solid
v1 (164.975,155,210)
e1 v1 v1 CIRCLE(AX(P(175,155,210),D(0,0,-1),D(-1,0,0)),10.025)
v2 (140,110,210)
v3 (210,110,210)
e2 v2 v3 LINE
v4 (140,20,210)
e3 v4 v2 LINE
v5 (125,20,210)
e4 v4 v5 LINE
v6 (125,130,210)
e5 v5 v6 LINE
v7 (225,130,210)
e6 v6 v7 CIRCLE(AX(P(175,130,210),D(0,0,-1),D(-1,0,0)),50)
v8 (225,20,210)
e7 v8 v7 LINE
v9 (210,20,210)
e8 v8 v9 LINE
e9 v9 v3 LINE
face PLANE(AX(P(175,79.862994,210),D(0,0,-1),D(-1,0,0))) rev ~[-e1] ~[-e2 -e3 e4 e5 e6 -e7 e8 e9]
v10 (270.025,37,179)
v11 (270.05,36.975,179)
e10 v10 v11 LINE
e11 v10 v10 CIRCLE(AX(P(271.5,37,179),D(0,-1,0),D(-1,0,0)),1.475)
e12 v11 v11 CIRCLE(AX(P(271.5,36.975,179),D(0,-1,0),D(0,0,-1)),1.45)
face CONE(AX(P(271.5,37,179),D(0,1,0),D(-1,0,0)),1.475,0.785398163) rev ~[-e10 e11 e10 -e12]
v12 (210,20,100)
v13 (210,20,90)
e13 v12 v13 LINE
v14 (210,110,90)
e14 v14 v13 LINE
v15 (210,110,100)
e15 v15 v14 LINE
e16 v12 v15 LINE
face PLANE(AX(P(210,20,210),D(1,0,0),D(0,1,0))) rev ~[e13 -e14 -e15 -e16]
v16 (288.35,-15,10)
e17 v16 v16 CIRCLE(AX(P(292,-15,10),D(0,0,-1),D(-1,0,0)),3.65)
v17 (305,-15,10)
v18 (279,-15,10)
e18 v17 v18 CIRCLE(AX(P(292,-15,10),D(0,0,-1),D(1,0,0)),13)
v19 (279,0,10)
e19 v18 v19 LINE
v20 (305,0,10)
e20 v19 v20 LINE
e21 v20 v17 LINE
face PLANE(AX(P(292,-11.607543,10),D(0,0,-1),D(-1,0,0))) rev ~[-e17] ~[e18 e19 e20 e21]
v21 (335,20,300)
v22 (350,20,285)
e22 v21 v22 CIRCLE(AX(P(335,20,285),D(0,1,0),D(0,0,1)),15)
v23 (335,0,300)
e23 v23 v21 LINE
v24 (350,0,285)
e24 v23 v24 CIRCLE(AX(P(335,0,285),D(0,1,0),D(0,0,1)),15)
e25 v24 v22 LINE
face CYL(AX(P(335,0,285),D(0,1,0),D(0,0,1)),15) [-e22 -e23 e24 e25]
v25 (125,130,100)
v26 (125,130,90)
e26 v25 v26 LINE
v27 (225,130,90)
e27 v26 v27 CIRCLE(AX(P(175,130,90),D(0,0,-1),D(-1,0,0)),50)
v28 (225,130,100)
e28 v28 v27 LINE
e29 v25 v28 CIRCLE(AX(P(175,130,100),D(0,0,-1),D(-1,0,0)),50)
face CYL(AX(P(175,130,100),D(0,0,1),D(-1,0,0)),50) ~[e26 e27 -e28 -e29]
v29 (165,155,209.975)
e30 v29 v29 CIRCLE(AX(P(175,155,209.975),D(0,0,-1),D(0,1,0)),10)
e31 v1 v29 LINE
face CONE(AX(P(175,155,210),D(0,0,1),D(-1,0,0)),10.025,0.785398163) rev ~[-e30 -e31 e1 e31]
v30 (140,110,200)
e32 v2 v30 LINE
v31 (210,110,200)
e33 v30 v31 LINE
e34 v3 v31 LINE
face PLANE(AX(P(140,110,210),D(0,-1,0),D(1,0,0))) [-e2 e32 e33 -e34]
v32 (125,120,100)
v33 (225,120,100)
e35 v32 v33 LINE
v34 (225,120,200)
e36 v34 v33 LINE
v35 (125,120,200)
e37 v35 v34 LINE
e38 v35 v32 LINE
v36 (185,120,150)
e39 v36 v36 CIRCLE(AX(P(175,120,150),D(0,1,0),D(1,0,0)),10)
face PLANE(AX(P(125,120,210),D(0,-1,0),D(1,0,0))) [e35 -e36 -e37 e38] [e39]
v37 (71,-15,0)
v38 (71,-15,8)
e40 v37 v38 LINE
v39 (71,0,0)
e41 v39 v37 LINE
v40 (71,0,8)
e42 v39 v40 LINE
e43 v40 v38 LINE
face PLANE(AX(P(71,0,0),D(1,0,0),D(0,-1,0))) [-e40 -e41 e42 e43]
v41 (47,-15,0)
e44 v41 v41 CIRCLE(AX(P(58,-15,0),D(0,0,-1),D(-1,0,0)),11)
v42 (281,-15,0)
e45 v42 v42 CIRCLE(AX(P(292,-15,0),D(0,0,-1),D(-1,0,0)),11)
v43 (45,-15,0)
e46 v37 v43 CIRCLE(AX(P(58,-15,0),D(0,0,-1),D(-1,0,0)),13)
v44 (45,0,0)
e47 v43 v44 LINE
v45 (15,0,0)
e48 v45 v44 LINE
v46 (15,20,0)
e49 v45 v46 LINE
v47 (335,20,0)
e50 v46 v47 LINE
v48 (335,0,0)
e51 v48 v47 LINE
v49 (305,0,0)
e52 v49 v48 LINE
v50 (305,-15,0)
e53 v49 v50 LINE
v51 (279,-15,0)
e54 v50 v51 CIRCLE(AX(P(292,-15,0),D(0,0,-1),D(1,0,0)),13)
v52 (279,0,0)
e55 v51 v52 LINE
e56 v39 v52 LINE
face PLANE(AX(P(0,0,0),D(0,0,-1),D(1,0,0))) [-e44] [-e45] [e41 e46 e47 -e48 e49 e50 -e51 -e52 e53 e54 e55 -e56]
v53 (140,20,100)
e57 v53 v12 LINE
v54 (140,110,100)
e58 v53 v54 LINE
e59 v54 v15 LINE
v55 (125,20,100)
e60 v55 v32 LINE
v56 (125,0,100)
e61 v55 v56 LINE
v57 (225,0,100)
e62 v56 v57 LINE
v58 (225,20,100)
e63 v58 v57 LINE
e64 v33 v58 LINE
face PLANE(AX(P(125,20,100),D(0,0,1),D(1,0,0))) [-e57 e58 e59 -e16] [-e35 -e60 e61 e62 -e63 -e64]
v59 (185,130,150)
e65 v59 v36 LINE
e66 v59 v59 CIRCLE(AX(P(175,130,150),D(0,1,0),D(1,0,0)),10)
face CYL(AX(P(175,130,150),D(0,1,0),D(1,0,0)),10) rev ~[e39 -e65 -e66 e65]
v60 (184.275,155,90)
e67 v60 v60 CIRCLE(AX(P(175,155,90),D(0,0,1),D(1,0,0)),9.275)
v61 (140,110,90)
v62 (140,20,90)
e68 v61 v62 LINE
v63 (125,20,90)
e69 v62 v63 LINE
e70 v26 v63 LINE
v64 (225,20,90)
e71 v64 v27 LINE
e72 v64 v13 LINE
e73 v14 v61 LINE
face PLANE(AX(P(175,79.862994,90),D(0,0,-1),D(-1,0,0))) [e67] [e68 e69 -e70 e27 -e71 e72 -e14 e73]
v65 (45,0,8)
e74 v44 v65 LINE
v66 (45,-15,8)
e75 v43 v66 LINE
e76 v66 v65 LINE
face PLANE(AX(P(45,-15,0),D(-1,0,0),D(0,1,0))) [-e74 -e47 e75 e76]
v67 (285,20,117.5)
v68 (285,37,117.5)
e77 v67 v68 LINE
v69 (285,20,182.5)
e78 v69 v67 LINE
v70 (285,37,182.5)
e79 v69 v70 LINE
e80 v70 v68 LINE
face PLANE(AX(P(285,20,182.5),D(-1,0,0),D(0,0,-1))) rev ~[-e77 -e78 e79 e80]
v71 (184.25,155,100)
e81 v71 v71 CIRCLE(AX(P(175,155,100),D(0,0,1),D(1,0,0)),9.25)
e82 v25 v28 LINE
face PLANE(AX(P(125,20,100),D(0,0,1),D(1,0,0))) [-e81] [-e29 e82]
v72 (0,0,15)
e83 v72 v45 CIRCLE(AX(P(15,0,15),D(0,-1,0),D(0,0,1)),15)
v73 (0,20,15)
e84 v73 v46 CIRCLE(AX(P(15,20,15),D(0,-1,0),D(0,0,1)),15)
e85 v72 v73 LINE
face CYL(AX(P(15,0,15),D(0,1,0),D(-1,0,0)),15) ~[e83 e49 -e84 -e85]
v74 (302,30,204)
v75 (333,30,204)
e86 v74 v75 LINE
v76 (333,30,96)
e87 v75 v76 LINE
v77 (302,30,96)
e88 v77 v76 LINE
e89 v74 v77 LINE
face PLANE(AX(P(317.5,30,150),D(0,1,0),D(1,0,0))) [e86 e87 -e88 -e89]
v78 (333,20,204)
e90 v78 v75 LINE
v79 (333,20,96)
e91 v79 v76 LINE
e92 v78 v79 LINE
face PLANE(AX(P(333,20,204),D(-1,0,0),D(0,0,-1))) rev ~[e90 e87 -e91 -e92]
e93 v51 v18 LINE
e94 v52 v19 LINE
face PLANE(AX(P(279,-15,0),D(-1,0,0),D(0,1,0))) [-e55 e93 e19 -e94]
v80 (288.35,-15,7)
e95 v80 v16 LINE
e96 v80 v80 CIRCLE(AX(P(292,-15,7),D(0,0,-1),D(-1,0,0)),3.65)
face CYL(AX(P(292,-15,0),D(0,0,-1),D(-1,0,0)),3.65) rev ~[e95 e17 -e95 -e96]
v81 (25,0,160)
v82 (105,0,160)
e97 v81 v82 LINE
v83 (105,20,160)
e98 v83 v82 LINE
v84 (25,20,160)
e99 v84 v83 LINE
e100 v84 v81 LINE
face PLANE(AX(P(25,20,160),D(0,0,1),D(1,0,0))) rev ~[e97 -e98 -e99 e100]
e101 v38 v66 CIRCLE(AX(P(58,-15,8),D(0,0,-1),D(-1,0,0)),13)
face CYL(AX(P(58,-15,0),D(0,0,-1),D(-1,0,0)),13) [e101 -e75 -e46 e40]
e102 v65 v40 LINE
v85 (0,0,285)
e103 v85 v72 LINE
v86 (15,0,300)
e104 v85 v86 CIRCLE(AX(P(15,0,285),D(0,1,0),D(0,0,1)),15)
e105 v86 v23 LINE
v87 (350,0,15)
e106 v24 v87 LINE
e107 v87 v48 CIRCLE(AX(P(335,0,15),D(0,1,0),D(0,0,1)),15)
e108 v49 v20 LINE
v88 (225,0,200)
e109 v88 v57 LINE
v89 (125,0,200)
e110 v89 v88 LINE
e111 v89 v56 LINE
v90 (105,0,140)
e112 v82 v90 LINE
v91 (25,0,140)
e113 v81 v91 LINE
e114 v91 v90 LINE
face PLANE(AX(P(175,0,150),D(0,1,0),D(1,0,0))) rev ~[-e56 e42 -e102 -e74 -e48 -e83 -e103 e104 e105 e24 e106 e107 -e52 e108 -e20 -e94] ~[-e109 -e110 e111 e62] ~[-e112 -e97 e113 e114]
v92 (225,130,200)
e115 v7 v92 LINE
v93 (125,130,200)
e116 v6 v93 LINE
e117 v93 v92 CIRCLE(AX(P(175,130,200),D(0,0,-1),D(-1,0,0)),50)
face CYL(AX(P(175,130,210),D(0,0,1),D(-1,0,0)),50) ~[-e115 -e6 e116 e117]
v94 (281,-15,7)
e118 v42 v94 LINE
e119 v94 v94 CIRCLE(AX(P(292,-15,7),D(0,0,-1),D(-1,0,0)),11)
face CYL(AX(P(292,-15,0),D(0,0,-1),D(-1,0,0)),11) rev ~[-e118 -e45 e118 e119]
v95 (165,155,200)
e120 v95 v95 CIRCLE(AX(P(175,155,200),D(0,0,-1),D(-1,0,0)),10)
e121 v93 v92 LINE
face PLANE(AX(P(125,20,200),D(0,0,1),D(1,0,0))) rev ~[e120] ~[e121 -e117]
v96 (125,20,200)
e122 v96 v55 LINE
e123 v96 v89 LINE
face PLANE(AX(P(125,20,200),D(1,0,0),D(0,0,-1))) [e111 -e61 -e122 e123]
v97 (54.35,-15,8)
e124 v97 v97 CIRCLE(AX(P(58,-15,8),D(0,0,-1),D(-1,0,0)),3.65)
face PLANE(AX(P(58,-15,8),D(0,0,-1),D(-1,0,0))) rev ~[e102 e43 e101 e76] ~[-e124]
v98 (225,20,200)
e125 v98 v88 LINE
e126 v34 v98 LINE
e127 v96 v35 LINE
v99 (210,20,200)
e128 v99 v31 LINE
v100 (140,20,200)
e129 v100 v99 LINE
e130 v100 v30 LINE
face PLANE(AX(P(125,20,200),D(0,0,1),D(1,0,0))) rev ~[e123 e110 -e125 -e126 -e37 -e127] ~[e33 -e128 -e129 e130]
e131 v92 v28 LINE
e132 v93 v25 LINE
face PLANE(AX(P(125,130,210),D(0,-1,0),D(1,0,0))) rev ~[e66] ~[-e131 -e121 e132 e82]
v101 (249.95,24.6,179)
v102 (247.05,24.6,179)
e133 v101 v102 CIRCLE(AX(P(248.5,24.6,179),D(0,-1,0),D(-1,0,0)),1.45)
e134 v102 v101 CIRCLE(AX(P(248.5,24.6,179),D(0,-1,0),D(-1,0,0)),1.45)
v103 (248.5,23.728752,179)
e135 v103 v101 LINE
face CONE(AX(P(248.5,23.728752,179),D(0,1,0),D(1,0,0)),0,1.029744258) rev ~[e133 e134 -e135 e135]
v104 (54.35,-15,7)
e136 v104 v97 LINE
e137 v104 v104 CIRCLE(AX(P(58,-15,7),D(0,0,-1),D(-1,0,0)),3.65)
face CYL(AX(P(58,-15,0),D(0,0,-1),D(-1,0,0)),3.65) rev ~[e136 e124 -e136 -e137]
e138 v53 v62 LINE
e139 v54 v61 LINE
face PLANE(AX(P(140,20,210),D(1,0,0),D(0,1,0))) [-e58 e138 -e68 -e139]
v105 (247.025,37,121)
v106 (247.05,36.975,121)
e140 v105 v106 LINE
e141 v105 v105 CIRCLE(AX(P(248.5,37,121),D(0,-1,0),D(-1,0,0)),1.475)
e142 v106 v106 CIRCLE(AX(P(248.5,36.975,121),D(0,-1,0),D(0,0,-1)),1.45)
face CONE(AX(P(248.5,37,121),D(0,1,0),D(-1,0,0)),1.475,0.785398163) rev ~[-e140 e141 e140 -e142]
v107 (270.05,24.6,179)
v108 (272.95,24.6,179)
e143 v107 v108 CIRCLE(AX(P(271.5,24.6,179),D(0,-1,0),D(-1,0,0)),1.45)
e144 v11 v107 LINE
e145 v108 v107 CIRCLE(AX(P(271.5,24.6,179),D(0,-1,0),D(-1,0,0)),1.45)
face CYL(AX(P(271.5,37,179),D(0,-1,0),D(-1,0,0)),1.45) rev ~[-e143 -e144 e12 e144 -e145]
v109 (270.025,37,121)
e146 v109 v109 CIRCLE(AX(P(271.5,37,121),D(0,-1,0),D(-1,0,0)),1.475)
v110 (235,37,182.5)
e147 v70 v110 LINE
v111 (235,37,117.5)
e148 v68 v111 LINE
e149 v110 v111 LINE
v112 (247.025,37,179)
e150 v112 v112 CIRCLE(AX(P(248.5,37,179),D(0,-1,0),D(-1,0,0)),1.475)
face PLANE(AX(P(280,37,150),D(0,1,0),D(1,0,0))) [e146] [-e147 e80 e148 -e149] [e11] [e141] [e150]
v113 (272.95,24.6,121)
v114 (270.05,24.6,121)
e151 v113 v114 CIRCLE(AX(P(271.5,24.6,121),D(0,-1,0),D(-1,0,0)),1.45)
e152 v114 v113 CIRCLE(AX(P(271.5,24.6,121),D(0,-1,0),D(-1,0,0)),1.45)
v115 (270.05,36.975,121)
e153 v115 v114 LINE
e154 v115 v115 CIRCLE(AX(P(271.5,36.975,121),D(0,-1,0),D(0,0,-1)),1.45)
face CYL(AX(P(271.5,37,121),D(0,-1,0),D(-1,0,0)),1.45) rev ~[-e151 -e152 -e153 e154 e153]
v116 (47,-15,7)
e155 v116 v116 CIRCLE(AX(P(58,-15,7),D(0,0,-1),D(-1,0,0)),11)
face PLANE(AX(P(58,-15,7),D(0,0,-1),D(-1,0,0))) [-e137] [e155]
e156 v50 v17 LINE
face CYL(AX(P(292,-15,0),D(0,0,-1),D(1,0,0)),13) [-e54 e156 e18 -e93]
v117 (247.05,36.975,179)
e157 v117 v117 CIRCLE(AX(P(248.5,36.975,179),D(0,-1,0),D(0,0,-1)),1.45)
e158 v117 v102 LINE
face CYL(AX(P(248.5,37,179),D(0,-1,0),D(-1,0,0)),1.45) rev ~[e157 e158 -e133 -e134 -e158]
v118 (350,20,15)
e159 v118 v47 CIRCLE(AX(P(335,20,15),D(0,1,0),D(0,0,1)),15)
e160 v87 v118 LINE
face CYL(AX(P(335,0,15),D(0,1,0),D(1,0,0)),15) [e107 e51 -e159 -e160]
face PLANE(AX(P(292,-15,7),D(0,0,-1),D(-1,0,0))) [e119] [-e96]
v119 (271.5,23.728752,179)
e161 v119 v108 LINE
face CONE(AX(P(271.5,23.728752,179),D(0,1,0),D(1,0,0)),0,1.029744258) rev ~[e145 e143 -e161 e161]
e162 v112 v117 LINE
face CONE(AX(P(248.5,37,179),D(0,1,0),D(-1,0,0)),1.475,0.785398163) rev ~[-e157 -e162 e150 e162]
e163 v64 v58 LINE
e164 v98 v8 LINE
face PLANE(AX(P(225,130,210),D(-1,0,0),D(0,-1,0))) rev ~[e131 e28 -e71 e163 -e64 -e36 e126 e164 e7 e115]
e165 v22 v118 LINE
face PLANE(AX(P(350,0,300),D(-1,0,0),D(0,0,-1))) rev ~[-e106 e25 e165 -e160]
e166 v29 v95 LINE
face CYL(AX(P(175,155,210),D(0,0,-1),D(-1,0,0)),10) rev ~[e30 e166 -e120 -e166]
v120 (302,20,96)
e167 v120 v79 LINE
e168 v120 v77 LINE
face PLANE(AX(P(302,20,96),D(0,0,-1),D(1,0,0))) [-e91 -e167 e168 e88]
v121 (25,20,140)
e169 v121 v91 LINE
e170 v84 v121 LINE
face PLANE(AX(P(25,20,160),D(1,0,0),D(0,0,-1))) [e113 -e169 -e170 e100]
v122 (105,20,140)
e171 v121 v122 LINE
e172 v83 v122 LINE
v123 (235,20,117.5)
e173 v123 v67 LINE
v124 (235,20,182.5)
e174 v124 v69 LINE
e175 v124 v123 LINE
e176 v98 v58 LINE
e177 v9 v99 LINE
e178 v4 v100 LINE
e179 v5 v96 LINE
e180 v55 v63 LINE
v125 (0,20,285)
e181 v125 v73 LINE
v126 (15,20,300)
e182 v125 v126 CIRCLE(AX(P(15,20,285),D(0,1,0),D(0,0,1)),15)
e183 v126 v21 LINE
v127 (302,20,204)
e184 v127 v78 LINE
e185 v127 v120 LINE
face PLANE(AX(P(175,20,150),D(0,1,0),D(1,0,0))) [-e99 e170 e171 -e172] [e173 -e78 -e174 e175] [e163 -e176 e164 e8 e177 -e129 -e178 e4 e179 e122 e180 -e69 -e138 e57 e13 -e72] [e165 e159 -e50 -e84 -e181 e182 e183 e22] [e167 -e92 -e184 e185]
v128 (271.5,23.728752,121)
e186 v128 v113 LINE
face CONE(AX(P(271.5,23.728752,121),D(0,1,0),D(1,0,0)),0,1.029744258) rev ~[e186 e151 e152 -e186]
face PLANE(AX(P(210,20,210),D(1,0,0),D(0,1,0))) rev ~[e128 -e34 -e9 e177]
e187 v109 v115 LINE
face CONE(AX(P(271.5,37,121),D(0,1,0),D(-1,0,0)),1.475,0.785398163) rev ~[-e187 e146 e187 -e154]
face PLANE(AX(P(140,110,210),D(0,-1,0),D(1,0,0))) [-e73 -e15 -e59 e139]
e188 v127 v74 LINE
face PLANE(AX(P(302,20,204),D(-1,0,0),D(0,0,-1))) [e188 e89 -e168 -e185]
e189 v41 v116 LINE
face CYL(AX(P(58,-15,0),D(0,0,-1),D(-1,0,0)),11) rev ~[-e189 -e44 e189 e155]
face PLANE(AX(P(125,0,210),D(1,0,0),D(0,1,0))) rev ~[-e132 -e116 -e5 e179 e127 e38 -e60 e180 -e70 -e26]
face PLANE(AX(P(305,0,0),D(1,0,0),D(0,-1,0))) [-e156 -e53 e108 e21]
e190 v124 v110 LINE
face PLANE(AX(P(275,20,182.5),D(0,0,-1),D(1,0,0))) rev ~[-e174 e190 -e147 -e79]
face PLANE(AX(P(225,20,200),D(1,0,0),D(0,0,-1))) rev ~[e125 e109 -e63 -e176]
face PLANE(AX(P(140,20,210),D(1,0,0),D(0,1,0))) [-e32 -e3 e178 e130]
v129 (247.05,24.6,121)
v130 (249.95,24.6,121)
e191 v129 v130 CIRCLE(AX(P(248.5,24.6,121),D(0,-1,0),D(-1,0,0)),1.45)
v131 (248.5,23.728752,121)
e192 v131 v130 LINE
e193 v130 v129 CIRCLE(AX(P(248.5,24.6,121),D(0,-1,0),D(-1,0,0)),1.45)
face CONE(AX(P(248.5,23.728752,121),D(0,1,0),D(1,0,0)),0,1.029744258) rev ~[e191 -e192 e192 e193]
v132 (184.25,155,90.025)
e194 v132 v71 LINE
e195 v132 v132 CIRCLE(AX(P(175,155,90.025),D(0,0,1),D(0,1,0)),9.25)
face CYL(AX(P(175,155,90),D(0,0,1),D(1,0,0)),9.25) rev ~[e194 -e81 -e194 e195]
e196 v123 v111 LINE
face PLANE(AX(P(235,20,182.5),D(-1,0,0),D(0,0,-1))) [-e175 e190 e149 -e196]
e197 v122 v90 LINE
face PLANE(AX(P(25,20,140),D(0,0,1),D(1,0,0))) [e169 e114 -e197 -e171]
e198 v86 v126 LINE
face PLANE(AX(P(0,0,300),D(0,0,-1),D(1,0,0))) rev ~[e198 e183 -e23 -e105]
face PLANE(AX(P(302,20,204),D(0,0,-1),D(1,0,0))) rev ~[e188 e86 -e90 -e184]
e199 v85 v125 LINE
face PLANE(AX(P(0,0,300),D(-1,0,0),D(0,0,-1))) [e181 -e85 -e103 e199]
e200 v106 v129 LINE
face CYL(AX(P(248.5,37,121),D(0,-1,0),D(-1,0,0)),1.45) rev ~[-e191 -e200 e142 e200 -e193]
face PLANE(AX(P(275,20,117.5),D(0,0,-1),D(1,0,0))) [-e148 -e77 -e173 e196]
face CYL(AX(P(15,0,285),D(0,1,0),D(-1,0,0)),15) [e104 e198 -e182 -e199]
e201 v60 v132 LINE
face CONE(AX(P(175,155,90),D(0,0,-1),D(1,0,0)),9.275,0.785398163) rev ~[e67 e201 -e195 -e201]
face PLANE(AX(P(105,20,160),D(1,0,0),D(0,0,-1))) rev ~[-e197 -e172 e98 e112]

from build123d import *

# Parameters (mm, degrees)
SKETCH1_W                              = 350
SKETCH1_H                              = 300
BOSS_EXTRUDE1_DEPTH                    = 20
FILLET1_R                              = 15
SKETCH2_W                              = 100
SKETCH2_H                              = 100
CUT_EXTRUDE1_DEPTH                     = 20
BOSS_EXTRUDE2_DEPTH                    = 10
LPATTERN1_COUNT                        = 2
LPATTERN1_PITCH                        = 110
F_20_0_20_DIAMETER_HOLE2_D             = 20
F_20_0_20_DIAMETER_HOLE2_DEPTH         = 10
F_20_0_20_DIAMETER_HOLE2_CSINK_D       = 20.05
F_20_0_20_DIAMETER_HOLE2_CSINK_ANGLE   = 90
F_20_0_20_DIAMETER_HOLE2_TIP           = 6.00860619
F_18_5_18_5_DIAMETER_HOLE1_D           = 18.5
F_18_5_18_5_DIAMETER_HOLE1_DEPTH       = 10
F_18_5_18_5_DIAMETER_HOLE1_CSINK_D     = 18.55
F_18_5_18_5_DIAMETER_HOLE1_CSINK_ANGLE = 90
F_18_5_18_5_DIAMETER_HOLE1_TIP         = 5.557960726
SKETCH32_W                             = 100
SKETCH32_H                             = 10
BOSS_EXTRUDE3_DEPTH                    = 120
SKETCH37_R                             = 10
CUT_EXTRUDE2_DEPTH                     = 36.07831716
SKETCH45_W                             = 30
SKETCH45_H                             = 65
BOSS_EXTRUDE4_DEPTH                    = 17
M2_5_CLEARANCE_HOLE1_D                 = 2.9
M2_5_CLEARANCE_HOLE1_DEPTH             = 12.4
M2_5_CLEARANCE_HOLE1_CSINK_D           = 2.95
M2_5_CLEARANCE_HOLE1_CSINK_ANGLE       = 90
M2_5_CLEARANCE_HOLE1_TIP               = 0.871247898
SKETCH54_W                             = 10
SKETCH54_H                             = 65
BOSS_EXTRUDE5_DEPTH                    = 17
SKETCH55_W                             = 31
SKETCH55_H                             = 108
BOSS_EXTRUDE6_DEPTH                    = 10
SKETCH59_W                             = 80
SKETCH59_H                             = 20
CUT_EXTRUDE3_DEPTH                     = 21
SKETCH60_W                             = 70
SKETCH60_H                             = 90
CUT_EXTRUDE4_DEPTH                     = 180
SKETCH64_R                             = 3.65
BOSS_EXTRUDE7_DEPTH                    = 10
SKETCH70_R                             = 11
CUT_EXTRUDE5_DEPTH                     = 7
SKETCH75_R                             = 13
SKETCH75_R_2                           = 11
SKETCH75_R_3                           = 3.65
BOSS_EXTRUDE8_DEPTH                    = 8
SKETCH77_R                             = 11
CUT_EXTRUDE6_DEPTH                     = 7


with BuildPart() as part:
    # Sketch1 → Boss-Extrude1 (new body)
    with BuildSketch(Plane(origin=(0, 0, 0), x_dir=(1, 0, 0), z_dir=(0, 1, 0))):
        with Locations((175, -150)):
            Rectangle(SKETCH1_W, SKETCH1_H)
    extrude(amount=BOSS_EXTRUDE1_DEPTH)

    # Fillet1
    fillet1_edges = [part.edges().sort_by_distance(p)[0] for p in [
        (0, 10, 0),
        (350, 10, 0),
        (350, 10, 300),
        (0, 10, 300),
    ]]
    fillet(fillet1_edges, radius=FILLET1_R)

    # Sketch2 → Cut-Extrude1 (cut)
    with BuildSketch(Plane(origin=(0, 20, 0), x_dir=(1, 0, 0), z_dir=(0, 1, 0))):
        with Locations((175, -150)):
            Rectangle(SKETCH2_W, SKETCH2_H)
    extrude(amount=-CUT_EXTRUDE1_DEPTH, mode=Mode.SUBTRACT)

    # Sketch6 → Boss-Extrude2 (add)
    with BuildSketch(Plane.XY.offset(100)):
        with BuildLine():
            Line((125, 0), (125, 130))
            ThreePointArc((125, 130), (175, 180), (225, 130))
            Line((225, 130), (225, 0))
            Line((225, 0), (125, 0))
        make_face()
    boss_extrude2 = extrude(amount=-BOSS_EXTRUDE2_DEPTH)

    # LPattern1: Boss-Extrude2 ×2
    with Locations(*[(0, 0, i * LPATTERN1_PITCH) for i in range(1, LPATTERN1_COUNT)]):
        add(boss_extrude2)

    # Ø20.0 (20) Diameter Hole2
    with Locations(Plane.XY.offset(210)):
        with Locations((175, 155)):
            CounterSinkHole(F_20_0_20_DIAMETER_HOLE2_D / 2, F_20_0_20_DIAMETER_HOLE2_CSINK_D / 2, depth=F_20_0_20_DIAMETER_HOLE2_DEPTH, counter_sink_angle=F_20_0_20_DIAMETER_HOLE2_CSINK_ANGLE)
            with Locations((0, 0, -(F_20_0_20_DIAMETER_HOLE2_DEPTH + F_20_0_20_DIAMETER_HOLE2_TIP / 2))):  # 118° drill point
                Cone(0, F_20_0_20_DIAMETER_HOLE2_D / 2, F_20_0_20_DIAMETER_HOLE2_TIP, mode=Mode.SUBTRACT)

    # Ø18.5 (18.5) Diameter Hole1
    with Locations(Plane(origin=(0, 0, 90), x_dir=(-1, 0, 0), z_dir=(0, 0, -1))):
        with Locations((-175, 155)):
            CounterSinkHole(F_18_5_18_5_DIAMETER_HOLE1_D / 2, F_18_5_18_5_DIAMETER_HOLE1_CSINK_D / 2, depth=F_18_5_18_5_DIAMETER_HOLE1_DEPTH, counter_sink_angle=F_18_5_18_5_DIAMETER_HOLE1_CSINK_ANGLE)
            with Locations((0, 0, -(F_18_5_18_5_DIAMETER_HOLE1_DEPTH + F_18_5_18_5_DIAMETER_HOLE1_TIP / 2))):  # 118° drill point
                Cone(0, F_18_5_18_5_DIAMETER_HOLE1_D / 2, F_18_5_18_5_DIAMETER_HOLE1_TIP, mode=Mode.SUBTRACT)

    # Sketch32 → Boss-Extrude3 (add)
    with BuildSketch(Plane.XY.offset(210)):
        with Locations((175, 125)):
            Rectangle(SKETCH32_W, SKETCH32_H)
    extrude(amount=-BOSS_EXTRUDE3_DEPTH)

    # Sketch37 → Cut-Extrude2 (cut)
    with BuildSketch(Plane(origin=(0, 130, 0), x_dir=(1, 0, 0), z_dir=(0, 1, 0))):
        with Locations((175, -150)):
            Circle(SKETCH37_R)
    extrude(amount=-CUT_EXTRUDE2_DEPTH, mode=Mode.SUBTRACT)

    # Sketch45 → Boss-Extrude4 (add)
    with BuildSketch(Plane(origin=(0, 20, 0), x_dir=(1, 0, 0), z_dir=(0, 1, 0))):
        with Locations((260, -150)):
            Rectangle(SKETCH45_W, SKETCH45_H)
    extrude(amount=BOSS_EXTRUDE4_DEPTH)

    # M2.5 Clearance Hole1
    with Locations(Plane(origin=(0, 37, 0), x_dir=(1, 0, 0), z_dir=(0, 1, 0))):
        with Locations((248.5, -121), (271.5, -121), (271.5, -179), (248.5, -179)):
            CounterSinkHole(M2_5_CLEARANCE_HOLE1_D / 2, M2_5_CLEARANCE_HOLE1_CSINK_D / 2, depth=M2_5_CLEARANCE_HOLE1_DEPTH, counter_sink_angle=M2_5_CLEARANCE_HOLE1_CSINK_ANGLE)
            with Locations((0, 0, -(M2_5_CLEARANCE_HOLE1_DEPTH + M2_5_CLEARANCE_HOLE1_TIP / 2))):  # 118° drill point
                Cone(0, M2_5_CLEARANCE_HOLE1_D / 2, M2_5_CLEARANCE_HOLE1_TIP, mode=Mode.SUBTRACT)

    # Sketch54 → Boss-Extrude5 (add)
    with BuildSketch(Plane(origin=(0, 20, 0), x_dir=(1, 0, 0), z_dir=(0, 1, 0))):
        with Locations((280, -150)):
            Rectangle(SKETCH54_W, SKETCH54_H)
        with Locations((240, -150)):
            Rectangle(SKETCH54_W, SKETCH54_H)
    extrude(amount=BOSS_EXTRUDE5_DEPTH)

    # Sketch55 → Boss-Extrude6 (add)
    with BuildSketch(Plane(origin=(0, 20, 0), x_dir=(1, 0, 0), z_dir=(0, 1, 0))):
        with Locations((317.5, -150)):
            Rectangle(SKETCH55_W, SKETCH55_H)
    extrude(amount=BOSS_EXTRUDE6_DEPTH)

    # Sketch59 → Cut-Extrude3 (cut, through all)
    with BuildSketch(Plane(origin=(0, 20, 0), x_dir=(1, 0, 0), z_dir=(0, 1, 0))):
        with Locations((65, -150)):
            Rectangle(SKETCH59_W, SKETCH59_H)
    extrude(amount=-CUT_EXTRUDE3_DEPTH, mode=Mode.SUBTRACT)

    # Sketch60 → Cut-Extrude4 (cut)
    with BuildSketch(Plane.XY.offset(210)):
        with Locations((175, 65)):
            Rectangle(SKETCH60_W, SKETCH60_H)
    extrude(amount=-CUT_EXTRUDE4_DEPTH, mode=Mode.SUBTRACT)

    # Sketch64 → Boss-Extrude7 (add)
    with BuildSketch(Plane(origin=(0, 0, 0), x_dir=(-1, 0, 0), z_dir=(0, 0, -1))):
        with BuildLine():
            Line((-305, 0), (-305, -15))
            ThreePointArc((-305, -15), (-292, -28), (-279, -15))
            Line((-279, -15), (-279, 0))
            Line((-279, 0), (-305, 0))
        make_face()
        with Locations((-292, -15)):
            Circle(SKETCH64_R, mode=Mode.SUBTRACT)
    extrude(amount=-BOSS_EXTRUDE7_DEPTH)

    # Sketch70 → Cut-Extrude5 (cut)
    with BuildSketch(Plane(origin=(0, 0, 0), x_dir=(-1, 0, 0), z_dir=(0, 0, -1))):
        with Locations((-292, -15)):
            Circle(SKETCH70_R)
    extrude(amount=-CUT_EXTRUDE5_DEPTH, mode=Mode.SUBTRACT)

    # Sketch75 → Boss-Extrude8 (add)
    with BuildSketch(Plane(origin=(0, 0, 0), x_dir=(-1, 0, 0), z_dir=(0, 0, -1))):
        with Locations((-58, -15)):
            Circle(SKETCH75_R)
        with Locations((-58, -15)):
            Circle(SKETCH75_R_2, mode=Mode.SUBTRACT)
        with Locations((-58, -15)):
            Circle(SKETCH75_R_2)
        with Locations((-58, -15)):
            Circle(SKETCH75_R_3, mode=Mode.SUBTRACT)
        with BuildLine():
            Line((-71, 0), (-71, -15))
            ThreePointArc((-71, -15), (-58, -2), (-45, -15))
            Line((-45, -15), (-45, 0))
            Line((-45, 0), (-71, 0))
        make_face()
    extrude(amount=-BOSS_EXTRUDE8_DEPTH)

    # Sketch77 → Cut-Extrude6 (cut)
    with BuildSketch(Plane(origin=(0, 0, 0), x_dir=(-1, 0, 0), z_dir=(0, 0, -1))):
        with Locations((-58, -15)):
            Circle(SKETCH77_R)
    extrude(amount=-CUT_EXTRUDE6_DEPTH, mode=Mode.SUBTRACT)


solid = part.part
